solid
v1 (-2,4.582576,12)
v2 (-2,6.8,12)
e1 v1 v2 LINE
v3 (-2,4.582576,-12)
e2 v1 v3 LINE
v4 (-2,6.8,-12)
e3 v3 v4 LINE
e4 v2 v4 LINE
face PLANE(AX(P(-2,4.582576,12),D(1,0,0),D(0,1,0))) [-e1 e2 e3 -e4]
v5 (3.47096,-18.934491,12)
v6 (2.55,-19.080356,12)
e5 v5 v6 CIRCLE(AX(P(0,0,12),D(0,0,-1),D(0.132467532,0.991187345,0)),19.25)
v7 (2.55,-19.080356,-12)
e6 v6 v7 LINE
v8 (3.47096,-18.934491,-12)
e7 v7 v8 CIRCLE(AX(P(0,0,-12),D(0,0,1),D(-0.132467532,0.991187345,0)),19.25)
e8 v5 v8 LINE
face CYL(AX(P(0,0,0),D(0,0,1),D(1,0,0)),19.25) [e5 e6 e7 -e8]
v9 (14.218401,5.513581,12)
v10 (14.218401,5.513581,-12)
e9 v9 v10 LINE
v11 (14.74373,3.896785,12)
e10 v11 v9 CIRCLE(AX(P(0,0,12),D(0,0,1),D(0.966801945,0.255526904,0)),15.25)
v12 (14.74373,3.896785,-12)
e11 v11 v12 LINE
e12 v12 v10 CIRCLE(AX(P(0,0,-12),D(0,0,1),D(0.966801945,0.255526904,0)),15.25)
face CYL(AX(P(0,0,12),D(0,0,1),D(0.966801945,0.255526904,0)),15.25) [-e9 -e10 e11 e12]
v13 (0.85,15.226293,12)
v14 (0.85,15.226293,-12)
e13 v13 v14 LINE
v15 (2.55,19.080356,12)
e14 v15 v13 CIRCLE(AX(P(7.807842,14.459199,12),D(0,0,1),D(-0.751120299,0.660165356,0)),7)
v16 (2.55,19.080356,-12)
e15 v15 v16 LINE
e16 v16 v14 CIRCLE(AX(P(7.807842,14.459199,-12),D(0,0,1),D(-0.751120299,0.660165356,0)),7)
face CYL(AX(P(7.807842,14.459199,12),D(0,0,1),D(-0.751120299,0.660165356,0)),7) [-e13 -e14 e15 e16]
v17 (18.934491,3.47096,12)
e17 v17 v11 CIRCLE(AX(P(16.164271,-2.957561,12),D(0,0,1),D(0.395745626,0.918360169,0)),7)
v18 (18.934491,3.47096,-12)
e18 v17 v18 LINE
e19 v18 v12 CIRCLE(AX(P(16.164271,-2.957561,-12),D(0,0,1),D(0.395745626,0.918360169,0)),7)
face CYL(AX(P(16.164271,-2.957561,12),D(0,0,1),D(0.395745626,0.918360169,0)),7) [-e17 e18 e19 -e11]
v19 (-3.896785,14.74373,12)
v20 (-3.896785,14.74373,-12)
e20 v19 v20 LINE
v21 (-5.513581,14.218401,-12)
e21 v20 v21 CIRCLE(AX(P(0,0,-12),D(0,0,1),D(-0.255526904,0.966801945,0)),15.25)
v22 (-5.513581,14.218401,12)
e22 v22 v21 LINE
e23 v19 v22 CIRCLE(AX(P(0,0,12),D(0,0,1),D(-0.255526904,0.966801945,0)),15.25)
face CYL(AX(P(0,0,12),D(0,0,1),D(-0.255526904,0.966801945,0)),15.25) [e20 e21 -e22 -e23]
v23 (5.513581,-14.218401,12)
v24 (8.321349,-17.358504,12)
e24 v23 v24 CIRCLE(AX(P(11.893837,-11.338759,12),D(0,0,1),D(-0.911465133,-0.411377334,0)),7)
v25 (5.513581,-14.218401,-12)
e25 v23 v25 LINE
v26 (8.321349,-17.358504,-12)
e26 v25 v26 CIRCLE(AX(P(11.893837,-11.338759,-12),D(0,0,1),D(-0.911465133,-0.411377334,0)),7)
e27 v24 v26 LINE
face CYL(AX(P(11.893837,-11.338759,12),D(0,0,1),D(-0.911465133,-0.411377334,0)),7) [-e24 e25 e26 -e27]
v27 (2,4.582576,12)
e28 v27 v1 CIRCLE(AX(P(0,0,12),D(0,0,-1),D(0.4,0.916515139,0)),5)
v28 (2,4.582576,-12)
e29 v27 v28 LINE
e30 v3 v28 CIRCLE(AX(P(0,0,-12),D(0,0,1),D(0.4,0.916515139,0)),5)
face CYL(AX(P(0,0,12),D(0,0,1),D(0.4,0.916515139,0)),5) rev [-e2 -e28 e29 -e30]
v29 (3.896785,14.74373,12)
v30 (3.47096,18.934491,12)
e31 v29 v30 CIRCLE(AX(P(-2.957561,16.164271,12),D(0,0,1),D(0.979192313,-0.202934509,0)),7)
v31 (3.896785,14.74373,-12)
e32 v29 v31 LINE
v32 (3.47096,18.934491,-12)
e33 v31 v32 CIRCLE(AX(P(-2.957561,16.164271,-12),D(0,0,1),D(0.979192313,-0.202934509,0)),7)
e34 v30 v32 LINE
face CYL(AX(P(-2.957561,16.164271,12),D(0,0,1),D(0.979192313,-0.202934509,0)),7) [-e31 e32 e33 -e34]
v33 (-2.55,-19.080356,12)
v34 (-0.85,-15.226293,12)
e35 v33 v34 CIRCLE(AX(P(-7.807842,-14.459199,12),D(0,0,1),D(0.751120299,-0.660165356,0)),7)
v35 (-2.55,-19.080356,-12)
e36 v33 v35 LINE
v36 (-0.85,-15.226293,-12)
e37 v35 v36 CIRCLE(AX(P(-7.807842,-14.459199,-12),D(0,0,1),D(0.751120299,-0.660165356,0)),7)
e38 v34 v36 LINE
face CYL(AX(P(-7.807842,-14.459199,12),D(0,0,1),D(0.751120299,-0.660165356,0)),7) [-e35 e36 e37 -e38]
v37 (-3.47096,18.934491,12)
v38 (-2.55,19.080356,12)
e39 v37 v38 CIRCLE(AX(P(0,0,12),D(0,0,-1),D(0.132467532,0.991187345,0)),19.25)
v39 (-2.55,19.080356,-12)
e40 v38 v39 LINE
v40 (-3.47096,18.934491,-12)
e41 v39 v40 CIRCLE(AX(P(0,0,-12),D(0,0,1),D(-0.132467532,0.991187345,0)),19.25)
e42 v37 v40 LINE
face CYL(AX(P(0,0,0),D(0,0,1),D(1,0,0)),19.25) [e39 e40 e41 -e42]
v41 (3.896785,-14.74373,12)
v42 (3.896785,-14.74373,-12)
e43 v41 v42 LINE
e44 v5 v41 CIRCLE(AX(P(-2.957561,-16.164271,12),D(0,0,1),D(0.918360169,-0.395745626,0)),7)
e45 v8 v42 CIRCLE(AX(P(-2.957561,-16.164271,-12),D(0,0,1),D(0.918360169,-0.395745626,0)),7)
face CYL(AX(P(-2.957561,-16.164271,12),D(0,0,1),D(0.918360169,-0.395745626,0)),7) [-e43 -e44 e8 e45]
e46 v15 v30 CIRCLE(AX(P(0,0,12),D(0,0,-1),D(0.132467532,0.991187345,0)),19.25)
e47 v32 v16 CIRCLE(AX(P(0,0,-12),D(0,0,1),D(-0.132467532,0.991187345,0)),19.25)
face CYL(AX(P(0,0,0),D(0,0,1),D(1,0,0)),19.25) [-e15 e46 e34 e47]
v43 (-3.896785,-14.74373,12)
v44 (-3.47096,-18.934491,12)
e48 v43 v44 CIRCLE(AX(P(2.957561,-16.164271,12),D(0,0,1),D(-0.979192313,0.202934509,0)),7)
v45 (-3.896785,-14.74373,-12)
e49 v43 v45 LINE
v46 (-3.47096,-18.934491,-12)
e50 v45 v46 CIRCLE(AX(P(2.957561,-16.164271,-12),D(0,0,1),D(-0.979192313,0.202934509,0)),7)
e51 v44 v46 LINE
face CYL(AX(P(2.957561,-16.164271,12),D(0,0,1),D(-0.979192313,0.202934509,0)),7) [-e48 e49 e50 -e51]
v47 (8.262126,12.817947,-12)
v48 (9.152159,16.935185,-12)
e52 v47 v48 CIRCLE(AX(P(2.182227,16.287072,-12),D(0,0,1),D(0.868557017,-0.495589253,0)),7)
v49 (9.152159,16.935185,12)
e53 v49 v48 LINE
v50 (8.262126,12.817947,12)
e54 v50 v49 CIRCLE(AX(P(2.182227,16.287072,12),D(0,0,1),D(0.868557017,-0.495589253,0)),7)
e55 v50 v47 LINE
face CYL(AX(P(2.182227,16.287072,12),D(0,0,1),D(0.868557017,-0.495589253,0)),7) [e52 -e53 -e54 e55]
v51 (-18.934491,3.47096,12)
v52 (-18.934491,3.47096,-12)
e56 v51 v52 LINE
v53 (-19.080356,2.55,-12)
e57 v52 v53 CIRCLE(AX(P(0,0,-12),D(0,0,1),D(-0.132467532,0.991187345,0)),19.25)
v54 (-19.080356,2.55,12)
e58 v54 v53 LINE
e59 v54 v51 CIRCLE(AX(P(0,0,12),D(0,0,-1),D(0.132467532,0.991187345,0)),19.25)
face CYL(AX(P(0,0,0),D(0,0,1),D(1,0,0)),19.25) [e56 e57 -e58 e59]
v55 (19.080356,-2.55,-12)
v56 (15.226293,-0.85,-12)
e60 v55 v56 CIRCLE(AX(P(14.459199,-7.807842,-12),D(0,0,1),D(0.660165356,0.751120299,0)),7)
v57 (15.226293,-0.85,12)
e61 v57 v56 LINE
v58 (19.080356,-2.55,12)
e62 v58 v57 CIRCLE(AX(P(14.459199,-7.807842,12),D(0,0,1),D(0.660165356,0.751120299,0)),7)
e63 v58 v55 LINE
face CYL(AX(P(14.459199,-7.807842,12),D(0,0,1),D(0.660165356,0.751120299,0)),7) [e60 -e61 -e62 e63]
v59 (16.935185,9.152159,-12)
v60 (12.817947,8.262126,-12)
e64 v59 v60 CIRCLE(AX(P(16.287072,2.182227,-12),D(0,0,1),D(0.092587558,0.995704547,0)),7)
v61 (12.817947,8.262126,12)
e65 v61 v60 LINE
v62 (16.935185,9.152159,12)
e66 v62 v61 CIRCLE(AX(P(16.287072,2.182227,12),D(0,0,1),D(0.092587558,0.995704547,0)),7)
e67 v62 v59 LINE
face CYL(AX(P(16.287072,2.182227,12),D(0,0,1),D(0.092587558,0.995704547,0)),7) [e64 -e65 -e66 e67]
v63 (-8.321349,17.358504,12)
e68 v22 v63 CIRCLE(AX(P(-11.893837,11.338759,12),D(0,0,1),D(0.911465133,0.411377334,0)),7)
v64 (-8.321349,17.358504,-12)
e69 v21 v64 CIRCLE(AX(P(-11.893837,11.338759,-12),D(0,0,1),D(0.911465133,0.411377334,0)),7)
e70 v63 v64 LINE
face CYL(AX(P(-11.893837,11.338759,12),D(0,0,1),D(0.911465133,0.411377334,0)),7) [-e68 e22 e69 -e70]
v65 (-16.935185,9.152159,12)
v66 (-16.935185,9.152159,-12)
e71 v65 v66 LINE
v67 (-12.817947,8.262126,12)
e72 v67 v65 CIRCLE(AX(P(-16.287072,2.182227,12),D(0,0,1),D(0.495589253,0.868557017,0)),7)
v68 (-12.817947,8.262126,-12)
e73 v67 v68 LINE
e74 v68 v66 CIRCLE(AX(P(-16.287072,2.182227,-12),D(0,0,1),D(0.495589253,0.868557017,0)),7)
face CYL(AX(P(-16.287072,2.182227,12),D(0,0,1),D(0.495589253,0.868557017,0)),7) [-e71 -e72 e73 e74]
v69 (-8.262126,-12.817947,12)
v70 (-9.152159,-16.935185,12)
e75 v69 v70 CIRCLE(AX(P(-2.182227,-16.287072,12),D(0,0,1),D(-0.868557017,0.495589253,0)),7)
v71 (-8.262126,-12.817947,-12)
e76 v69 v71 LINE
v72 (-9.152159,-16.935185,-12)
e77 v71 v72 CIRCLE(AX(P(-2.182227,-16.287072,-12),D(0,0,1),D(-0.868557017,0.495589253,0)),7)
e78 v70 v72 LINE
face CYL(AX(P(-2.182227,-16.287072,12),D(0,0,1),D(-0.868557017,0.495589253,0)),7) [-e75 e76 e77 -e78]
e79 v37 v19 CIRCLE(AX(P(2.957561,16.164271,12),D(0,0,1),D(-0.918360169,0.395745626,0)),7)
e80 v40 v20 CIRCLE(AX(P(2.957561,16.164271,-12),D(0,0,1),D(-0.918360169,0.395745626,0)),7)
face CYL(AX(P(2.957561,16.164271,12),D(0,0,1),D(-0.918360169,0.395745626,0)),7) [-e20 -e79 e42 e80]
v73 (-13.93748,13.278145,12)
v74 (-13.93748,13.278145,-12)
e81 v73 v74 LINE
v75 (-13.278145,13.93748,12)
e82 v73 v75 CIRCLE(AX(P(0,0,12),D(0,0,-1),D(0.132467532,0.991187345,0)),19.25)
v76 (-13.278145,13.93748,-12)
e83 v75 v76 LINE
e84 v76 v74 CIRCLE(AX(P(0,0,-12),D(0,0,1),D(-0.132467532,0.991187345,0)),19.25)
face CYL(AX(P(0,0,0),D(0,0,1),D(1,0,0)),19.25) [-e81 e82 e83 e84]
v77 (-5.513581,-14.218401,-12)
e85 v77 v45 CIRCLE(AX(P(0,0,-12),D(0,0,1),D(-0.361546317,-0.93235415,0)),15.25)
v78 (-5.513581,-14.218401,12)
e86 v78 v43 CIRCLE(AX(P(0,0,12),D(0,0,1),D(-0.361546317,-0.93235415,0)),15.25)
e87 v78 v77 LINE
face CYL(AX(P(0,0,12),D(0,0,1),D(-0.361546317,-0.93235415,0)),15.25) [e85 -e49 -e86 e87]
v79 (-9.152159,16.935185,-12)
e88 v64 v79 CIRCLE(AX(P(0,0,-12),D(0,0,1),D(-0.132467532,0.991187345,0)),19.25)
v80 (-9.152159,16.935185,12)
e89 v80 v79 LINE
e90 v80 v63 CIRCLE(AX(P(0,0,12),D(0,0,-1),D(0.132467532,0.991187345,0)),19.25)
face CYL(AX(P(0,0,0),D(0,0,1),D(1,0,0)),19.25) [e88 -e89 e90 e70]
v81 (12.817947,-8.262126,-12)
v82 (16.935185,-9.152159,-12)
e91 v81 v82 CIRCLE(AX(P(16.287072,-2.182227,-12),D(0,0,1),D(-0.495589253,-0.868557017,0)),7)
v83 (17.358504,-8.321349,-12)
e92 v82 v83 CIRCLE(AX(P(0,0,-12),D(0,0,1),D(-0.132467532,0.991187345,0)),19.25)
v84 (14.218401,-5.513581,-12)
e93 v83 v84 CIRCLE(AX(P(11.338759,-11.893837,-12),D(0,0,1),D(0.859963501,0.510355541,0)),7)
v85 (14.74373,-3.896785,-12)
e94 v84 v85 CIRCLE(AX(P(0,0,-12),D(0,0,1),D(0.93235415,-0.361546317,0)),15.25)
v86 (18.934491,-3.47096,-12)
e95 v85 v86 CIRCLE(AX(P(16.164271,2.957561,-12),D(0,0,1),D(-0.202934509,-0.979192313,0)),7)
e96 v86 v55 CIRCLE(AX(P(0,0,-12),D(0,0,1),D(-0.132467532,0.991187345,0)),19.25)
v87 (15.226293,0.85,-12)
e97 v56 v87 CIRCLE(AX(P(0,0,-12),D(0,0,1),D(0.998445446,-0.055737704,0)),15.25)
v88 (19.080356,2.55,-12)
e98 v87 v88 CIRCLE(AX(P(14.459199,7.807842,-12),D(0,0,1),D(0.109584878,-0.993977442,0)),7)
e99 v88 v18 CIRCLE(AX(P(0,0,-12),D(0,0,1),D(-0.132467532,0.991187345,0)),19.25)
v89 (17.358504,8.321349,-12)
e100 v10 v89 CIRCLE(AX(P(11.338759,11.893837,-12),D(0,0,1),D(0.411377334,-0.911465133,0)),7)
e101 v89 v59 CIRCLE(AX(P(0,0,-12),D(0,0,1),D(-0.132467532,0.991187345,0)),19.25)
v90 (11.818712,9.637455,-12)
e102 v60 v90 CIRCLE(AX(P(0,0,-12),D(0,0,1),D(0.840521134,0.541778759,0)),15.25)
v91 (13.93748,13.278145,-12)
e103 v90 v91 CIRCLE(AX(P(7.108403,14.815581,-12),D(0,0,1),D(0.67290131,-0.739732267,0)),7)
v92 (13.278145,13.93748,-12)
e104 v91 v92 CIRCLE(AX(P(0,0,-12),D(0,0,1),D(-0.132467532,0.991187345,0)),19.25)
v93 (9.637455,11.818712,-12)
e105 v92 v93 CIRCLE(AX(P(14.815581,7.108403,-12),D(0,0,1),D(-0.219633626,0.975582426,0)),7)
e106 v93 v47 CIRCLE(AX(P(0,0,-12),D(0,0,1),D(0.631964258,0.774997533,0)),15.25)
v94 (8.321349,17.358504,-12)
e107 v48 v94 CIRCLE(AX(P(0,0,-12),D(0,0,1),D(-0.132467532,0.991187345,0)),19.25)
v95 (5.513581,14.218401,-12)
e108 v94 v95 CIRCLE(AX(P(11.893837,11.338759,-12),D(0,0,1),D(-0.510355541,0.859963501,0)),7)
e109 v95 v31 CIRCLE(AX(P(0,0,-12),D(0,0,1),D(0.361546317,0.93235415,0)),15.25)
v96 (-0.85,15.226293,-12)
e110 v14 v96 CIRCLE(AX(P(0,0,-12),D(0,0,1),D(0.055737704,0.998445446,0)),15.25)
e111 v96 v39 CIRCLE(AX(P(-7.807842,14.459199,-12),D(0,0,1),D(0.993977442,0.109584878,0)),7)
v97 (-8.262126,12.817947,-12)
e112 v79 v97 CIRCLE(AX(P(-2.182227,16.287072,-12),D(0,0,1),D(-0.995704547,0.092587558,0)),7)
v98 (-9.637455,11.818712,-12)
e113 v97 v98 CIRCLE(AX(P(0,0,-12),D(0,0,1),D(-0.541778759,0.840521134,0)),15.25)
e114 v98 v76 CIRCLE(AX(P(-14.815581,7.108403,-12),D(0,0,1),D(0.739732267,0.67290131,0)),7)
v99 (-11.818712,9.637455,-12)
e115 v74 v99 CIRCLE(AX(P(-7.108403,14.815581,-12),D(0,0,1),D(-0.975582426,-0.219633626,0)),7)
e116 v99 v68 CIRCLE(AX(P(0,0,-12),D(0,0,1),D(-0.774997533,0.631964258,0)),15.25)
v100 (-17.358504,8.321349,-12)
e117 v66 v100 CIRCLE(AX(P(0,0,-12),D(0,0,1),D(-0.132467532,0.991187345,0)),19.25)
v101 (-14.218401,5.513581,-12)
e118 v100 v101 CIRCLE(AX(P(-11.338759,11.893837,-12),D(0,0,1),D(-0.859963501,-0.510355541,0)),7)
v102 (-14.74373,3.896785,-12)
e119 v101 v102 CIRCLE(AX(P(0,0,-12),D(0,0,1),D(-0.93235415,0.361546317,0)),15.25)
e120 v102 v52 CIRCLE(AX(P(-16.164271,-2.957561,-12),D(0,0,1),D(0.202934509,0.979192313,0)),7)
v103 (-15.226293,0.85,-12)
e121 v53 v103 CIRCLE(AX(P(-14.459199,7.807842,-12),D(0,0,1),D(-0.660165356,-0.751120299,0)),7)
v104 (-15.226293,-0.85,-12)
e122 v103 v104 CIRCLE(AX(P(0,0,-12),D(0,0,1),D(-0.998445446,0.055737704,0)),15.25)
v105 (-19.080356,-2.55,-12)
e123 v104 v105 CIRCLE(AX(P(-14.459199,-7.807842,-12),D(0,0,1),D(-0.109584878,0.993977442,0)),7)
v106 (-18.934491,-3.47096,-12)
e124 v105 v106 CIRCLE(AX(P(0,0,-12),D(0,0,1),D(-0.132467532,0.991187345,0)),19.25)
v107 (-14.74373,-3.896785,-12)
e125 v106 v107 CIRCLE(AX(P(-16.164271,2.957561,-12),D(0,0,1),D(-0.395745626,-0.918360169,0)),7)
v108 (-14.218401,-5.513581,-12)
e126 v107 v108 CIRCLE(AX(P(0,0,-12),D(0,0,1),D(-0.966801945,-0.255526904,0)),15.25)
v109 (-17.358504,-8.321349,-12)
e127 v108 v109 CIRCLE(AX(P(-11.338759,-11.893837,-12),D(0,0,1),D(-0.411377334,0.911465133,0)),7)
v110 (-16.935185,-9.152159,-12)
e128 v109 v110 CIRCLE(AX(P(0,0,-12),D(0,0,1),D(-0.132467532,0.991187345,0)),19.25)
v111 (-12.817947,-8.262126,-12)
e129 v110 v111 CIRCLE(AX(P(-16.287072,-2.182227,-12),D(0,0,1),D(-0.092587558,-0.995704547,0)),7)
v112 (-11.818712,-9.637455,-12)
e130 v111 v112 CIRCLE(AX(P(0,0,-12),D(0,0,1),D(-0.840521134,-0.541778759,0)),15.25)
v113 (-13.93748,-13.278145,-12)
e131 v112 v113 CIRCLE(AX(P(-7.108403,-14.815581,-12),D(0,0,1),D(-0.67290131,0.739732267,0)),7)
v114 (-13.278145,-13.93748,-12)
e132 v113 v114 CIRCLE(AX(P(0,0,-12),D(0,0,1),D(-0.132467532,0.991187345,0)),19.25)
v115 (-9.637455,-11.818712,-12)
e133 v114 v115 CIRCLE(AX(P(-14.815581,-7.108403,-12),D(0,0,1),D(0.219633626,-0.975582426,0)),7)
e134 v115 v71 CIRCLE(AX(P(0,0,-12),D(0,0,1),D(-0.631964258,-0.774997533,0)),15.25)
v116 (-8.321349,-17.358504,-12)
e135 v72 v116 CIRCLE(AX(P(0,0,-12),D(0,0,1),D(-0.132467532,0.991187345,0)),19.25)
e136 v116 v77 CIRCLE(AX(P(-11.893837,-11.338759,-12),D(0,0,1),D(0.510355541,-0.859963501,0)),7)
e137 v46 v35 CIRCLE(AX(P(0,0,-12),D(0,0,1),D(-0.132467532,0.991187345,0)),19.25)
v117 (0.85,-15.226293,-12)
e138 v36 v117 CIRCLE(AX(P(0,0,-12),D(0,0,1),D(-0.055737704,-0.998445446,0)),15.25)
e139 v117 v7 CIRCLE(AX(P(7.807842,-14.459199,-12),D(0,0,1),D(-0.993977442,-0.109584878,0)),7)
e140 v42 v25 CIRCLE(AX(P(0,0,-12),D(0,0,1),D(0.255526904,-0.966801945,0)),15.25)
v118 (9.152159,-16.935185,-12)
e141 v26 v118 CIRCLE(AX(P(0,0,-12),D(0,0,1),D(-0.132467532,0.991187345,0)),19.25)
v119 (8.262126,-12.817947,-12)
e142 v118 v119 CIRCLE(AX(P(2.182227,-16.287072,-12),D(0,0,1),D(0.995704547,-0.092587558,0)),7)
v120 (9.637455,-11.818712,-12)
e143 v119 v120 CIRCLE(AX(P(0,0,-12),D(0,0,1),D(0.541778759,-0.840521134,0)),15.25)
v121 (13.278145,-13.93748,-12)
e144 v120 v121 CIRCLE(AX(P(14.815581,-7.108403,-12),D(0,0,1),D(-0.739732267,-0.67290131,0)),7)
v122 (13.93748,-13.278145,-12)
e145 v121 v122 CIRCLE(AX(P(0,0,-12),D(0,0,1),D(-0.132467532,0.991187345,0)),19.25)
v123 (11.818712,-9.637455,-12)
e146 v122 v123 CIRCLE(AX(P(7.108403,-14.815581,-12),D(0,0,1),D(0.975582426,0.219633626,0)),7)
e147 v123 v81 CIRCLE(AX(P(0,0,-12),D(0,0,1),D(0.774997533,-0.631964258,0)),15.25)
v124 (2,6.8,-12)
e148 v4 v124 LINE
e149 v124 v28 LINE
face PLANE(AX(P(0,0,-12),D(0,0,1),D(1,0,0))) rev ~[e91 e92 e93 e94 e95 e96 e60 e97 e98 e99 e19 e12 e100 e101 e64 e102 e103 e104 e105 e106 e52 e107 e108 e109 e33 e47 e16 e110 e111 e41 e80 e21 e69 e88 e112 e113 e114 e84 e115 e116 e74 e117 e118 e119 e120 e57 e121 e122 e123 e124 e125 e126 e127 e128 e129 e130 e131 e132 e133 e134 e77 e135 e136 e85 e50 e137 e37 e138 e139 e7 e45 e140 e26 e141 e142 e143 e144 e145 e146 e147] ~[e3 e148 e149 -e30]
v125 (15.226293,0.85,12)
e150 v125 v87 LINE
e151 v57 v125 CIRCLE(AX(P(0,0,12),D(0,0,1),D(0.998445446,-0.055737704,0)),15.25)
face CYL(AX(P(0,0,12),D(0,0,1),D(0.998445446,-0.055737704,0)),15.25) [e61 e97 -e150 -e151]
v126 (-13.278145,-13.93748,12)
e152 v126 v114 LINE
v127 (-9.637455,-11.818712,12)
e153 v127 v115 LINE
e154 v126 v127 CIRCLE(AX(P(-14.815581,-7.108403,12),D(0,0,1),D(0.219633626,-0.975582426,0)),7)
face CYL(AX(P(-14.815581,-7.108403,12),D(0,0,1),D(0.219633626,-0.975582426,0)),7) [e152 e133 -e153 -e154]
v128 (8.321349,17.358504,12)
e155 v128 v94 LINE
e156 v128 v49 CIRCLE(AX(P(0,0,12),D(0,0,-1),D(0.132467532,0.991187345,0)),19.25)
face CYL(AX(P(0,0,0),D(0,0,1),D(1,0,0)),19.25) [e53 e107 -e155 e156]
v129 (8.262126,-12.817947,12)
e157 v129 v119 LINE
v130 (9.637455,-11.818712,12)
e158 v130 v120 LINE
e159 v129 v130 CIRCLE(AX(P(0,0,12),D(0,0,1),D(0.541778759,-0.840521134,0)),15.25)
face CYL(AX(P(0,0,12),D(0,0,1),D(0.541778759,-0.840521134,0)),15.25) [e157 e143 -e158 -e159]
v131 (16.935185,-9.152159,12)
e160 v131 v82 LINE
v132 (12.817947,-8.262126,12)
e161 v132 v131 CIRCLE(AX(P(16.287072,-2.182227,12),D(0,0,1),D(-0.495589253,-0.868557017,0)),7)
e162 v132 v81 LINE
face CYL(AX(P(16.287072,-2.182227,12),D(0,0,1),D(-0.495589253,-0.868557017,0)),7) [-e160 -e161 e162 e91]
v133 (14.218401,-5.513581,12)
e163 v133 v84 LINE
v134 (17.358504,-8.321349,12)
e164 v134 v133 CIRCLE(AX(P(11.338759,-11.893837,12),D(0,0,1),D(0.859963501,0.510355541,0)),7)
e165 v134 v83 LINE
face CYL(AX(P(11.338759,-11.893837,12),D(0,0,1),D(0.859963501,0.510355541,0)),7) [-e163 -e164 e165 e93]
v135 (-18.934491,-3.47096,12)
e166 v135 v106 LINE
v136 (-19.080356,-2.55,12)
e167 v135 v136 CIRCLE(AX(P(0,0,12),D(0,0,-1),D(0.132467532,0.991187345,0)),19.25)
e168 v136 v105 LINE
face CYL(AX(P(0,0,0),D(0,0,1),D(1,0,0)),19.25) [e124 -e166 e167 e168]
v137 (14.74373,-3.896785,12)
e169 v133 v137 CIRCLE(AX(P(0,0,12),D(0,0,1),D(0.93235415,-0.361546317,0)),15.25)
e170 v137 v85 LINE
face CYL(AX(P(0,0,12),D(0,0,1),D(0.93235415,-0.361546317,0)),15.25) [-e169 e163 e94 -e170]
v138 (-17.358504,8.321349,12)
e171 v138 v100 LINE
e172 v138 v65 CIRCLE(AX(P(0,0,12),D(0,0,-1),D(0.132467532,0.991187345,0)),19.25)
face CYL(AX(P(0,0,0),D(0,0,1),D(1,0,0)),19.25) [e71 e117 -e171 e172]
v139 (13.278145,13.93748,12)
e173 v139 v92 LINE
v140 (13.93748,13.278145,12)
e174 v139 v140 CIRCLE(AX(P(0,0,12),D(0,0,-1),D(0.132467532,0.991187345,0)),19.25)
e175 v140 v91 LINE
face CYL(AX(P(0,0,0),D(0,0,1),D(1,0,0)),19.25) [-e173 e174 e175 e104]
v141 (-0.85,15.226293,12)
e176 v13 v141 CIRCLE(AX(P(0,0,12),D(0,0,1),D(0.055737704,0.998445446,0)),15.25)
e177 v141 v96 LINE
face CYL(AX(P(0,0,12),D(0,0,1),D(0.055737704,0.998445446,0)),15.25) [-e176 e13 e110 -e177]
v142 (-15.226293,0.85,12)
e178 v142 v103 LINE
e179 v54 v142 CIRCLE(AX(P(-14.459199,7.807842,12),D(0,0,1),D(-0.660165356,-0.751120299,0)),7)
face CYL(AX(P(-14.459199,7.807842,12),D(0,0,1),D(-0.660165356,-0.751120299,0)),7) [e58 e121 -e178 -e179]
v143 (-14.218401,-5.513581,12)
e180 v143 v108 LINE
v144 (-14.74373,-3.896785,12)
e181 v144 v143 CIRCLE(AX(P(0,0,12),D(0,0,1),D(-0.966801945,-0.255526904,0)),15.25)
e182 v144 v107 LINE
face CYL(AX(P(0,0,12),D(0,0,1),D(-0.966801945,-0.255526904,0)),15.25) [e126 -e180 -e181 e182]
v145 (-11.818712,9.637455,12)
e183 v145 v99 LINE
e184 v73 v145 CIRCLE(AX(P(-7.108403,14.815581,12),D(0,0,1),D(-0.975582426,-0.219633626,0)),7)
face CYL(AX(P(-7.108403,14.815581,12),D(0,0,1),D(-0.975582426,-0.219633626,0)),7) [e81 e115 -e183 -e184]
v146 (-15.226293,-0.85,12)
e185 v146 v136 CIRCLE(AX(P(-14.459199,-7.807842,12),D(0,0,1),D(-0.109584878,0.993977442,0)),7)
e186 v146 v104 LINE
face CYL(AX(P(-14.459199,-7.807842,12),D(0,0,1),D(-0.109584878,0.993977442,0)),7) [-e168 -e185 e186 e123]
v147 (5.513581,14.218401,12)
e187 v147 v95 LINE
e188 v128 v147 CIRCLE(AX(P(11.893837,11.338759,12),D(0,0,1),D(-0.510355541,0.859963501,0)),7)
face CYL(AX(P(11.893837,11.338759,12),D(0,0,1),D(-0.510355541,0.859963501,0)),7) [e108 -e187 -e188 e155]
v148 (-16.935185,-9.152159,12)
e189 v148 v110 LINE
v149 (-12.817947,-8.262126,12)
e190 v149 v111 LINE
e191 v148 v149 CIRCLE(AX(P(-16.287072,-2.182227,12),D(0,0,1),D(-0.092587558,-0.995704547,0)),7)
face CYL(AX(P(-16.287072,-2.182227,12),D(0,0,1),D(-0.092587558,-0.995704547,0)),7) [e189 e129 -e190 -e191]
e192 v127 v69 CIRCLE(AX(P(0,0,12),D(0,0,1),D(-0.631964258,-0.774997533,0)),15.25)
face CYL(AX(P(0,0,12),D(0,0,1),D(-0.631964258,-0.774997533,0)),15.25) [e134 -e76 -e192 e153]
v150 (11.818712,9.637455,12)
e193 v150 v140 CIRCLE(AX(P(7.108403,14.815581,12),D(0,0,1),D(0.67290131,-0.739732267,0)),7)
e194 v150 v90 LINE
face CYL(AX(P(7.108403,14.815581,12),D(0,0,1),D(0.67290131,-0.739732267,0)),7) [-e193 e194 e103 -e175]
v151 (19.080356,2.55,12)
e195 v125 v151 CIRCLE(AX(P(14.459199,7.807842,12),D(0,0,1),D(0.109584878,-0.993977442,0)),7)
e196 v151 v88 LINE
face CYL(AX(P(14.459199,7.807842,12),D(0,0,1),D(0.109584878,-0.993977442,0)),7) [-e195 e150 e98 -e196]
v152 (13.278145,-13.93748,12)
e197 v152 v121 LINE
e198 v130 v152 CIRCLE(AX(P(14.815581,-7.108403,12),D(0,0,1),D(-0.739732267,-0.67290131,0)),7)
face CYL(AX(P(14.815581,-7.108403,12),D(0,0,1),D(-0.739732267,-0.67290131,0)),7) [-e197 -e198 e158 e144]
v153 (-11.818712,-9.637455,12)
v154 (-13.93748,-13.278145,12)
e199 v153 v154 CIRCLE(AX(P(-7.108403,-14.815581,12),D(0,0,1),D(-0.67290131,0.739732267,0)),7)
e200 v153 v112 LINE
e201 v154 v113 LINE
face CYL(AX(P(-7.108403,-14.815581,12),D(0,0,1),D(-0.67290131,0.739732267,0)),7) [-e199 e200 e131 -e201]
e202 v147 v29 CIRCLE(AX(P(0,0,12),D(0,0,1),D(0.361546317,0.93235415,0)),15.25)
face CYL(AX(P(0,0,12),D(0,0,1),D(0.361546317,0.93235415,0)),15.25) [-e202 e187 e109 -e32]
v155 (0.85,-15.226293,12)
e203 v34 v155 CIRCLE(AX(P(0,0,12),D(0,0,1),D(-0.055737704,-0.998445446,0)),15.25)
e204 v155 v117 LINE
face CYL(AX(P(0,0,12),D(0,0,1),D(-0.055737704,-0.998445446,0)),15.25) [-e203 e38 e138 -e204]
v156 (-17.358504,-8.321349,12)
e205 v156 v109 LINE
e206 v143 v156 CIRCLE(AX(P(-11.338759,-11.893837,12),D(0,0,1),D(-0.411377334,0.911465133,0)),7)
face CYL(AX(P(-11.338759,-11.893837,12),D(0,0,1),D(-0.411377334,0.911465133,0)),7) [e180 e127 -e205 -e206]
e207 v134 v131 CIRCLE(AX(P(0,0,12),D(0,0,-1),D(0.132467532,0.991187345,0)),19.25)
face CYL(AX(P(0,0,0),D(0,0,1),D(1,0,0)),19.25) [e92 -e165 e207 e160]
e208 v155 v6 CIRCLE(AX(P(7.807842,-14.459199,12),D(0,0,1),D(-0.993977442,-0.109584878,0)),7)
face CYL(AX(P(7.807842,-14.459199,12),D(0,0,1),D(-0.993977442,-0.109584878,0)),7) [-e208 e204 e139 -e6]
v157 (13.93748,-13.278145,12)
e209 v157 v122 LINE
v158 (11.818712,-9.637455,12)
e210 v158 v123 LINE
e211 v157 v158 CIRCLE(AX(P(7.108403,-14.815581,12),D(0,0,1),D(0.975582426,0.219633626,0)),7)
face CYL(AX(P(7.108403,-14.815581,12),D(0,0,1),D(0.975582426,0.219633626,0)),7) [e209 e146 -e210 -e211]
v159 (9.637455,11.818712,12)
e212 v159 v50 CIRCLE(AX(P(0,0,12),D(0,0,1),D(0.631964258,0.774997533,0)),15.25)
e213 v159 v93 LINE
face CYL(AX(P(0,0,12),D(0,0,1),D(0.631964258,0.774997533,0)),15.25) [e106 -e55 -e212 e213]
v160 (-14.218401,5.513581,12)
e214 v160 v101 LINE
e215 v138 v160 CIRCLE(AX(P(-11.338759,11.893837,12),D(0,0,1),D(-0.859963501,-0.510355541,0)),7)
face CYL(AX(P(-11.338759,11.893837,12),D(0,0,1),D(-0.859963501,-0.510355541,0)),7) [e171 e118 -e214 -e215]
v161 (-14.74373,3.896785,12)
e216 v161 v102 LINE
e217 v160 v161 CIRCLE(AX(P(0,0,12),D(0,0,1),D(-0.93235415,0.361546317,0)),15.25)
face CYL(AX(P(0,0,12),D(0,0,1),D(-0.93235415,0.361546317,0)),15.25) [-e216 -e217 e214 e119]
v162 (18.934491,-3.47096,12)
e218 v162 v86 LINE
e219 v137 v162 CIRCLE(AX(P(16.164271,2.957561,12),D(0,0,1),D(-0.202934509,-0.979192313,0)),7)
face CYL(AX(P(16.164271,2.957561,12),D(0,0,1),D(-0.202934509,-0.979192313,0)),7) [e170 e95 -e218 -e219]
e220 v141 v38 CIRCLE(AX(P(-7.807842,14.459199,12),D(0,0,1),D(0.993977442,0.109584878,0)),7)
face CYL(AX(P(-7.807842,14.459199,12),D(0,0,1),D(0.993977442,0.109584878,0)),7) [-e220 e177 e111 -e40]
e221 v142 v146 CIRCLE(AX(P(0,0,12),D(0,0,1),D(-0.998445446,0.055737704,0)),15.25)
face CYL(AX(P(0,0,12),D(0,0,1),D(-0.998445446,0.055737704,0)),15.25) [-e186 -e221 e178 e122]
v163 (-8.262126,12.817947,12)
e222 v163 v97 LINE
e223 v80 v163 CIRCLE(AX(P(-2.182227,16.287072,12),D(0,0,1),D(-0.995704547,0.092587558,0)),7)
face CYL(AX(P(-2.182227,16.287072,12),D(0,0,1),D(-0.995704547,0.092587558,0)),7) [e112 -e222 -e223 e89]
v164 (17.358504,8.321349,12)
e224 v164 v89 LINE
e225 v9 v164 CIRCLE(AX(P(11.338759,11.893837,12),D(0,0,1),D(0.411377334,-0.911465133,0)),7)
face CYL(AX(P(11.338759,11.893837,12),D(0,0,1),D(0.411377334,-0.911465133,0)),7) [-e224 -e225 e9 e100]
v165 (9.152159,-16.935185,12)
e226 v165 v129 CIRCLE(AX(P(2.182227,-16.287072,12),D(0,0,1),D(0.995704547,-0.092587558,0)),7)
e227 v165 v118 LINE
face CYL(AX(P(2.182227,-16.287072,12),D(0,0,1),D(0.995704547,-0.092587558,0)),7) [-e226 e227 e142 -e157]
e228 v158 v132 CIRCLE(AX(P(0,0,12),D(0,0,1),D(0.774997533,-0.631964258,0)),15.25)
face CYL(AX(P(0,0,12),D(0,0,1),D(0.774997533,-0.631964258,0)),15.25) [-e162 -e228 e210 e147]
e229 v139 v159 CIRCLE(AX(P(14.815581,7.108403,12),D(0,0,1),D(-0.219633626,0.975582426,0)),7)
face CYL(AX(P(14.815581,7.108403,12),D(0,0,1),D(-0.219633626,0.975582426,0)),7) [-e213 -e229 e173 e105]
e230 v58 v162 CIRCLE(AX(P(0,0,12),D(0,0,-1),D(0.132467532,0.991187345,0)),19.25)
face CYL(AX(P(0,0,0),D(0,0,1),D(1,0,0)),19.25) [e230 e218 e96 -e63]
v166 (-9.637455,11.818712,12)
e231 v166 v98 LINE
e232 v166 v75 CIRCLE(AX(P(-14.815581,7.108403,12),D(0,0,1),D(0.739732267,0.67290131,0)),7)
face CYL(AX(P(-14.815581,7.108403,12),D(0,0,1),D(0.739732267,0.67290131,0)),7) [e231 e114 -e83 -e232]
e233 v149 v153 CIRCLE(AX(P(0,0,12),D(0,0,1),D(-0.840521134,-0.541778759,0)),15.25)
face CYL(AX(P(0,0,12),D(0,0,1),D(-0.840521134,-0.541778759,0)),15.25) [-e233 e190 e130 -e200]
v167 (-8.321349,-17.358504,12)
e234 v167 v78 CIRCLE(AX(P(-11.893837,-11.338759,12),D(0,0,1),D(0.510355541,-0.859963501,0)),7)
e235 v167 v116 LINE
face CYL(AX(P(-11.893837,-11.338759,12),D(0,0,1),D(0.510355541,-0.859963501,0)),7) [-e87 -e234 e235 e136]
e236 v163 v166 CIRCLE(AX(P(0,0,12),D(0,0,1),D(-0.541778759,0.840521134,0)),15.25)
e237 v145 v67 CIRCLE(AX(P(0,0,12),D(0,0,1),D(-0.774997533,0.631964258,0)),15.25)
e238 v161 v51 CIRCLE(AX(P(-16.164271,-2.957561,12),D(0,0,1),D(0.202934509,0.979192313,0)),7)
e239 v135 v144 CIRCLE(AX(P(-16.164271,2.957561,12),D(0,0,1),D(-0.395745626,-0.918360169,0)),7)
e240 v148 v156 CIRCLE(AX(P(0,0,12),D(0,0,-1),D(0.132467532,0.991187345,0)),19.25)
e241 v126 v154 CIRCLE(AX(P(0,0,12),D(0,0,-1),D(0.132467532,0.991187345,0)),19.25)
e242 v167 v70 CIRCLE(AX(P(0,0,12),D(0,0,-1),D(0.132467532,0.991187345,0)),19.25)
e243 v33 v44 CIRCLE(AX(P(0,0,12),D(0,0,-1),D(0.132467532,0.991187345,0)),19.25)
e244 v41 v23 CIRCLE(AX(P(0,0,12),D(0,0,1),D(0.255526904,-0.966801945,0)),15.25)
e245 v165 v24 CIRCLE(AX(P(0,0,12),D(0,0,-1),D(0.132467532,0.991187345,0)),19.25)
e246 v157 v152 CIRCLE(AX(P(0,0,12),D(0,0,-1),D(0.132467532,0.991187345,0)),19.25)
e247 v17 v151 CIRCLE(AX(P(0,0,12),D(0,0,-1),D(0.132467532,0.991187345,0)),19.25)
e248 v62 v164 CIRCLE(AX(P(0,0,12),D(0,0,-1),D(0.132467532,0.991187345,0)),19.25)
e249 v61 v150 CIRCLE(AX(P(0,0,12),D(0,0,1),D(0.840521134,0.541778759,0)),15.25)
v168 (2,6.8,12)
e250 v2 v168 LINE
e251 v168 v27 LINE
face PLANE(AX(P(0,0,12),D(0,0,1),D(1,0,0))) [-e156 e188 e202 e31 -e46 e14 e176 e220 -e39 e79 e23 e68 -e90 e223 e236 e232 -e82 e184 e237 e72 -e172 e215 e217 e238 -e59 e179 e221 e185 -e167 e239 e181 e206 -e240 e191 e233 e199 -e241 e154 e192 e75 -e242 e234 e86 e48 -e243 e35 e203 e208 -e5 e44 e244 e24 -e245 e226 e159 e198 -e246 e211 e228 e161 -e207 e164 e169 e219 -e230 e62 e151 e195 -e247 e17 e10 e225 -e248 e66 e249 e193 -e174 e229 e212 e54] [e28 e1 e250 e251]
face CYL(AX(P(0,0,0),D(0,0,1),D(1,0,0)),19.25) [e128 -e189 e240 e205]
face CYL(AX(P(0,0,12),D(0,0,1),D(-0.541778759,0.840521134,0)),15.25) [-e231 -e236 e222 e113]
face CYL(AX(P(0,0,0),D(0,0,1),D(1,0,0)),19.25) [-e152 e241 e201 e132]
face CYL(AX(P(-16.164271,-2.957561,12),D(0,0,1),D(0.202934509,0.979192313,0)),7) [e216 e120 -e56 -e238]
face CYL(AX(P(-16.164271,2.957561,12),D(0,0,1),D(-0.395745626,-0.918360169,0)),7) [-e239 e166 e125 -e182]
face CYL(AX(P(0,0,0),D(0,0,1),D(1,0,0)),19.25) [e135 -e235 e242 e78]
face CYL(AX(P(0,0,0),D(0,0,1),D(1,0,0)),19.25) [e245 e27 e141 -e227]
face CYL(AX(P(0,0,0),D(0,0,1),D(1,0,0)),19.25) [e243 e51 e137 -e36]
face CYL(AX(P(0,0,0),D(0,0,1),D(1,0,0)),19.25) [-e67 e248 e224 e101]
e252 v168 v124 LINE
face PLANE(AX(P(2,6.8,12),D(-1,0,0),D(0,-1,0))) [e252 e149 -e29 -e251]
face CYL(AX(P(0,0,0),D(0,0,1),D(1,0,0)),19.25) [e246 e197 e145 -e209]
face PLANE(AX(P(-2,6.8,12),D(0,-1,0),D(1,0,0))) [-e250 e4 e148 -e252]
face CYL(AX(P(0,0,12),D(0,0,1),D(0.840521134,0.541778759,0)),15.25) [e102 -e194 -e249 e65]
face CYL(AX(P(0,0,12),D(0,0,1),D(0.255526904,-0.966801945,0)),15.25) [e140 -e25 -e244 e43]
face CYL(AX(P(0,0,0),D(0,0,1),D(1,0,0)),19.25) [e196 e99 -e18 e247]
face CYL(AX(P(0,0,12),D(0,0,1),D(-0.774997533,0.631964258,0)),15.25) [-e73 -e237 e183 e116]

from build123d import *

# Parameters (mm, degrees)
SKETCH1_R           = 19.25
BOSS_EXTRUDE1_DEPTH = 12
CUT_EXTRUDE1_DEPTH  = 37.292216796
CIRPATTERN1_COUNT   = 20
CUT_EXTRUDE2_DEPTH  = 37.112601679


with BuildPart() as part:
    # Sketch1 → Boss-Extrude1 (new, symmetric)
    with BuildSketch(Plane.XY):
        Circle(SKETCH1_R)
    extrude(amount=BOSS_EXTRUDE1_DEPTH, both=True)

    # Sketch2 → Cut-Extrude1 (cut, through all)
    with BuildSketch(Plane.XY.offset(12)):
        with BuildLine():
            ThreePointArc((0.85, 15.226293049), (0, 15.25), (-0.85, 15.226293049))
            ThreePointArc((-0.85, 15.226293049), (-1.403219848, 17.284232339), (-2.55, 19.080356391))
            ThreePointArc((-2.55, 19.080356391), (0, 19.25), (2.55, 19.080356391))
            ThreePointArc((2.55, 19.080356391), (1.403219848, 17.284232339), (0.85, 15.226293049))
        make_face()
    cut_extrude1 = extrude(amount=-CUT_EXTRUDE1_DEPTH, mode=Mode.SUBTRACT)

    # CirPattern1: Cut-Extrude1 ×20 about axis
    cirpattern1_axis = Axis((0, 0, 0), (0, 0, 1))
    for i in range(1, CIRPATTERN1_COUNT):
        add(cut_extrude1.rotate(cirpattern1_axis, i * 360 / CIRPATTERN1_COUNT), mode=Mode.SUBTRACT)

    # Sketch3 → Cut-Extrude2 (cut, through all)
    with BuildSketch(Plane.XY.offset(12)):
        with BuildLine():
            Line((2, 6.8), (2, 4.582575695))
            ThreePointArc((2, 4.582575695), (0, -5), (-2, 4.582575695))
            Line((-2, 4.582575695), (-2, 6.8))
            Line((-2, 6.8), (2, 6.8))
        make_face()
    extrude(amount=-CUT_EXTRUDE2_DEPTH, mode=Mode.SUBTRACT)


solid = part.part
